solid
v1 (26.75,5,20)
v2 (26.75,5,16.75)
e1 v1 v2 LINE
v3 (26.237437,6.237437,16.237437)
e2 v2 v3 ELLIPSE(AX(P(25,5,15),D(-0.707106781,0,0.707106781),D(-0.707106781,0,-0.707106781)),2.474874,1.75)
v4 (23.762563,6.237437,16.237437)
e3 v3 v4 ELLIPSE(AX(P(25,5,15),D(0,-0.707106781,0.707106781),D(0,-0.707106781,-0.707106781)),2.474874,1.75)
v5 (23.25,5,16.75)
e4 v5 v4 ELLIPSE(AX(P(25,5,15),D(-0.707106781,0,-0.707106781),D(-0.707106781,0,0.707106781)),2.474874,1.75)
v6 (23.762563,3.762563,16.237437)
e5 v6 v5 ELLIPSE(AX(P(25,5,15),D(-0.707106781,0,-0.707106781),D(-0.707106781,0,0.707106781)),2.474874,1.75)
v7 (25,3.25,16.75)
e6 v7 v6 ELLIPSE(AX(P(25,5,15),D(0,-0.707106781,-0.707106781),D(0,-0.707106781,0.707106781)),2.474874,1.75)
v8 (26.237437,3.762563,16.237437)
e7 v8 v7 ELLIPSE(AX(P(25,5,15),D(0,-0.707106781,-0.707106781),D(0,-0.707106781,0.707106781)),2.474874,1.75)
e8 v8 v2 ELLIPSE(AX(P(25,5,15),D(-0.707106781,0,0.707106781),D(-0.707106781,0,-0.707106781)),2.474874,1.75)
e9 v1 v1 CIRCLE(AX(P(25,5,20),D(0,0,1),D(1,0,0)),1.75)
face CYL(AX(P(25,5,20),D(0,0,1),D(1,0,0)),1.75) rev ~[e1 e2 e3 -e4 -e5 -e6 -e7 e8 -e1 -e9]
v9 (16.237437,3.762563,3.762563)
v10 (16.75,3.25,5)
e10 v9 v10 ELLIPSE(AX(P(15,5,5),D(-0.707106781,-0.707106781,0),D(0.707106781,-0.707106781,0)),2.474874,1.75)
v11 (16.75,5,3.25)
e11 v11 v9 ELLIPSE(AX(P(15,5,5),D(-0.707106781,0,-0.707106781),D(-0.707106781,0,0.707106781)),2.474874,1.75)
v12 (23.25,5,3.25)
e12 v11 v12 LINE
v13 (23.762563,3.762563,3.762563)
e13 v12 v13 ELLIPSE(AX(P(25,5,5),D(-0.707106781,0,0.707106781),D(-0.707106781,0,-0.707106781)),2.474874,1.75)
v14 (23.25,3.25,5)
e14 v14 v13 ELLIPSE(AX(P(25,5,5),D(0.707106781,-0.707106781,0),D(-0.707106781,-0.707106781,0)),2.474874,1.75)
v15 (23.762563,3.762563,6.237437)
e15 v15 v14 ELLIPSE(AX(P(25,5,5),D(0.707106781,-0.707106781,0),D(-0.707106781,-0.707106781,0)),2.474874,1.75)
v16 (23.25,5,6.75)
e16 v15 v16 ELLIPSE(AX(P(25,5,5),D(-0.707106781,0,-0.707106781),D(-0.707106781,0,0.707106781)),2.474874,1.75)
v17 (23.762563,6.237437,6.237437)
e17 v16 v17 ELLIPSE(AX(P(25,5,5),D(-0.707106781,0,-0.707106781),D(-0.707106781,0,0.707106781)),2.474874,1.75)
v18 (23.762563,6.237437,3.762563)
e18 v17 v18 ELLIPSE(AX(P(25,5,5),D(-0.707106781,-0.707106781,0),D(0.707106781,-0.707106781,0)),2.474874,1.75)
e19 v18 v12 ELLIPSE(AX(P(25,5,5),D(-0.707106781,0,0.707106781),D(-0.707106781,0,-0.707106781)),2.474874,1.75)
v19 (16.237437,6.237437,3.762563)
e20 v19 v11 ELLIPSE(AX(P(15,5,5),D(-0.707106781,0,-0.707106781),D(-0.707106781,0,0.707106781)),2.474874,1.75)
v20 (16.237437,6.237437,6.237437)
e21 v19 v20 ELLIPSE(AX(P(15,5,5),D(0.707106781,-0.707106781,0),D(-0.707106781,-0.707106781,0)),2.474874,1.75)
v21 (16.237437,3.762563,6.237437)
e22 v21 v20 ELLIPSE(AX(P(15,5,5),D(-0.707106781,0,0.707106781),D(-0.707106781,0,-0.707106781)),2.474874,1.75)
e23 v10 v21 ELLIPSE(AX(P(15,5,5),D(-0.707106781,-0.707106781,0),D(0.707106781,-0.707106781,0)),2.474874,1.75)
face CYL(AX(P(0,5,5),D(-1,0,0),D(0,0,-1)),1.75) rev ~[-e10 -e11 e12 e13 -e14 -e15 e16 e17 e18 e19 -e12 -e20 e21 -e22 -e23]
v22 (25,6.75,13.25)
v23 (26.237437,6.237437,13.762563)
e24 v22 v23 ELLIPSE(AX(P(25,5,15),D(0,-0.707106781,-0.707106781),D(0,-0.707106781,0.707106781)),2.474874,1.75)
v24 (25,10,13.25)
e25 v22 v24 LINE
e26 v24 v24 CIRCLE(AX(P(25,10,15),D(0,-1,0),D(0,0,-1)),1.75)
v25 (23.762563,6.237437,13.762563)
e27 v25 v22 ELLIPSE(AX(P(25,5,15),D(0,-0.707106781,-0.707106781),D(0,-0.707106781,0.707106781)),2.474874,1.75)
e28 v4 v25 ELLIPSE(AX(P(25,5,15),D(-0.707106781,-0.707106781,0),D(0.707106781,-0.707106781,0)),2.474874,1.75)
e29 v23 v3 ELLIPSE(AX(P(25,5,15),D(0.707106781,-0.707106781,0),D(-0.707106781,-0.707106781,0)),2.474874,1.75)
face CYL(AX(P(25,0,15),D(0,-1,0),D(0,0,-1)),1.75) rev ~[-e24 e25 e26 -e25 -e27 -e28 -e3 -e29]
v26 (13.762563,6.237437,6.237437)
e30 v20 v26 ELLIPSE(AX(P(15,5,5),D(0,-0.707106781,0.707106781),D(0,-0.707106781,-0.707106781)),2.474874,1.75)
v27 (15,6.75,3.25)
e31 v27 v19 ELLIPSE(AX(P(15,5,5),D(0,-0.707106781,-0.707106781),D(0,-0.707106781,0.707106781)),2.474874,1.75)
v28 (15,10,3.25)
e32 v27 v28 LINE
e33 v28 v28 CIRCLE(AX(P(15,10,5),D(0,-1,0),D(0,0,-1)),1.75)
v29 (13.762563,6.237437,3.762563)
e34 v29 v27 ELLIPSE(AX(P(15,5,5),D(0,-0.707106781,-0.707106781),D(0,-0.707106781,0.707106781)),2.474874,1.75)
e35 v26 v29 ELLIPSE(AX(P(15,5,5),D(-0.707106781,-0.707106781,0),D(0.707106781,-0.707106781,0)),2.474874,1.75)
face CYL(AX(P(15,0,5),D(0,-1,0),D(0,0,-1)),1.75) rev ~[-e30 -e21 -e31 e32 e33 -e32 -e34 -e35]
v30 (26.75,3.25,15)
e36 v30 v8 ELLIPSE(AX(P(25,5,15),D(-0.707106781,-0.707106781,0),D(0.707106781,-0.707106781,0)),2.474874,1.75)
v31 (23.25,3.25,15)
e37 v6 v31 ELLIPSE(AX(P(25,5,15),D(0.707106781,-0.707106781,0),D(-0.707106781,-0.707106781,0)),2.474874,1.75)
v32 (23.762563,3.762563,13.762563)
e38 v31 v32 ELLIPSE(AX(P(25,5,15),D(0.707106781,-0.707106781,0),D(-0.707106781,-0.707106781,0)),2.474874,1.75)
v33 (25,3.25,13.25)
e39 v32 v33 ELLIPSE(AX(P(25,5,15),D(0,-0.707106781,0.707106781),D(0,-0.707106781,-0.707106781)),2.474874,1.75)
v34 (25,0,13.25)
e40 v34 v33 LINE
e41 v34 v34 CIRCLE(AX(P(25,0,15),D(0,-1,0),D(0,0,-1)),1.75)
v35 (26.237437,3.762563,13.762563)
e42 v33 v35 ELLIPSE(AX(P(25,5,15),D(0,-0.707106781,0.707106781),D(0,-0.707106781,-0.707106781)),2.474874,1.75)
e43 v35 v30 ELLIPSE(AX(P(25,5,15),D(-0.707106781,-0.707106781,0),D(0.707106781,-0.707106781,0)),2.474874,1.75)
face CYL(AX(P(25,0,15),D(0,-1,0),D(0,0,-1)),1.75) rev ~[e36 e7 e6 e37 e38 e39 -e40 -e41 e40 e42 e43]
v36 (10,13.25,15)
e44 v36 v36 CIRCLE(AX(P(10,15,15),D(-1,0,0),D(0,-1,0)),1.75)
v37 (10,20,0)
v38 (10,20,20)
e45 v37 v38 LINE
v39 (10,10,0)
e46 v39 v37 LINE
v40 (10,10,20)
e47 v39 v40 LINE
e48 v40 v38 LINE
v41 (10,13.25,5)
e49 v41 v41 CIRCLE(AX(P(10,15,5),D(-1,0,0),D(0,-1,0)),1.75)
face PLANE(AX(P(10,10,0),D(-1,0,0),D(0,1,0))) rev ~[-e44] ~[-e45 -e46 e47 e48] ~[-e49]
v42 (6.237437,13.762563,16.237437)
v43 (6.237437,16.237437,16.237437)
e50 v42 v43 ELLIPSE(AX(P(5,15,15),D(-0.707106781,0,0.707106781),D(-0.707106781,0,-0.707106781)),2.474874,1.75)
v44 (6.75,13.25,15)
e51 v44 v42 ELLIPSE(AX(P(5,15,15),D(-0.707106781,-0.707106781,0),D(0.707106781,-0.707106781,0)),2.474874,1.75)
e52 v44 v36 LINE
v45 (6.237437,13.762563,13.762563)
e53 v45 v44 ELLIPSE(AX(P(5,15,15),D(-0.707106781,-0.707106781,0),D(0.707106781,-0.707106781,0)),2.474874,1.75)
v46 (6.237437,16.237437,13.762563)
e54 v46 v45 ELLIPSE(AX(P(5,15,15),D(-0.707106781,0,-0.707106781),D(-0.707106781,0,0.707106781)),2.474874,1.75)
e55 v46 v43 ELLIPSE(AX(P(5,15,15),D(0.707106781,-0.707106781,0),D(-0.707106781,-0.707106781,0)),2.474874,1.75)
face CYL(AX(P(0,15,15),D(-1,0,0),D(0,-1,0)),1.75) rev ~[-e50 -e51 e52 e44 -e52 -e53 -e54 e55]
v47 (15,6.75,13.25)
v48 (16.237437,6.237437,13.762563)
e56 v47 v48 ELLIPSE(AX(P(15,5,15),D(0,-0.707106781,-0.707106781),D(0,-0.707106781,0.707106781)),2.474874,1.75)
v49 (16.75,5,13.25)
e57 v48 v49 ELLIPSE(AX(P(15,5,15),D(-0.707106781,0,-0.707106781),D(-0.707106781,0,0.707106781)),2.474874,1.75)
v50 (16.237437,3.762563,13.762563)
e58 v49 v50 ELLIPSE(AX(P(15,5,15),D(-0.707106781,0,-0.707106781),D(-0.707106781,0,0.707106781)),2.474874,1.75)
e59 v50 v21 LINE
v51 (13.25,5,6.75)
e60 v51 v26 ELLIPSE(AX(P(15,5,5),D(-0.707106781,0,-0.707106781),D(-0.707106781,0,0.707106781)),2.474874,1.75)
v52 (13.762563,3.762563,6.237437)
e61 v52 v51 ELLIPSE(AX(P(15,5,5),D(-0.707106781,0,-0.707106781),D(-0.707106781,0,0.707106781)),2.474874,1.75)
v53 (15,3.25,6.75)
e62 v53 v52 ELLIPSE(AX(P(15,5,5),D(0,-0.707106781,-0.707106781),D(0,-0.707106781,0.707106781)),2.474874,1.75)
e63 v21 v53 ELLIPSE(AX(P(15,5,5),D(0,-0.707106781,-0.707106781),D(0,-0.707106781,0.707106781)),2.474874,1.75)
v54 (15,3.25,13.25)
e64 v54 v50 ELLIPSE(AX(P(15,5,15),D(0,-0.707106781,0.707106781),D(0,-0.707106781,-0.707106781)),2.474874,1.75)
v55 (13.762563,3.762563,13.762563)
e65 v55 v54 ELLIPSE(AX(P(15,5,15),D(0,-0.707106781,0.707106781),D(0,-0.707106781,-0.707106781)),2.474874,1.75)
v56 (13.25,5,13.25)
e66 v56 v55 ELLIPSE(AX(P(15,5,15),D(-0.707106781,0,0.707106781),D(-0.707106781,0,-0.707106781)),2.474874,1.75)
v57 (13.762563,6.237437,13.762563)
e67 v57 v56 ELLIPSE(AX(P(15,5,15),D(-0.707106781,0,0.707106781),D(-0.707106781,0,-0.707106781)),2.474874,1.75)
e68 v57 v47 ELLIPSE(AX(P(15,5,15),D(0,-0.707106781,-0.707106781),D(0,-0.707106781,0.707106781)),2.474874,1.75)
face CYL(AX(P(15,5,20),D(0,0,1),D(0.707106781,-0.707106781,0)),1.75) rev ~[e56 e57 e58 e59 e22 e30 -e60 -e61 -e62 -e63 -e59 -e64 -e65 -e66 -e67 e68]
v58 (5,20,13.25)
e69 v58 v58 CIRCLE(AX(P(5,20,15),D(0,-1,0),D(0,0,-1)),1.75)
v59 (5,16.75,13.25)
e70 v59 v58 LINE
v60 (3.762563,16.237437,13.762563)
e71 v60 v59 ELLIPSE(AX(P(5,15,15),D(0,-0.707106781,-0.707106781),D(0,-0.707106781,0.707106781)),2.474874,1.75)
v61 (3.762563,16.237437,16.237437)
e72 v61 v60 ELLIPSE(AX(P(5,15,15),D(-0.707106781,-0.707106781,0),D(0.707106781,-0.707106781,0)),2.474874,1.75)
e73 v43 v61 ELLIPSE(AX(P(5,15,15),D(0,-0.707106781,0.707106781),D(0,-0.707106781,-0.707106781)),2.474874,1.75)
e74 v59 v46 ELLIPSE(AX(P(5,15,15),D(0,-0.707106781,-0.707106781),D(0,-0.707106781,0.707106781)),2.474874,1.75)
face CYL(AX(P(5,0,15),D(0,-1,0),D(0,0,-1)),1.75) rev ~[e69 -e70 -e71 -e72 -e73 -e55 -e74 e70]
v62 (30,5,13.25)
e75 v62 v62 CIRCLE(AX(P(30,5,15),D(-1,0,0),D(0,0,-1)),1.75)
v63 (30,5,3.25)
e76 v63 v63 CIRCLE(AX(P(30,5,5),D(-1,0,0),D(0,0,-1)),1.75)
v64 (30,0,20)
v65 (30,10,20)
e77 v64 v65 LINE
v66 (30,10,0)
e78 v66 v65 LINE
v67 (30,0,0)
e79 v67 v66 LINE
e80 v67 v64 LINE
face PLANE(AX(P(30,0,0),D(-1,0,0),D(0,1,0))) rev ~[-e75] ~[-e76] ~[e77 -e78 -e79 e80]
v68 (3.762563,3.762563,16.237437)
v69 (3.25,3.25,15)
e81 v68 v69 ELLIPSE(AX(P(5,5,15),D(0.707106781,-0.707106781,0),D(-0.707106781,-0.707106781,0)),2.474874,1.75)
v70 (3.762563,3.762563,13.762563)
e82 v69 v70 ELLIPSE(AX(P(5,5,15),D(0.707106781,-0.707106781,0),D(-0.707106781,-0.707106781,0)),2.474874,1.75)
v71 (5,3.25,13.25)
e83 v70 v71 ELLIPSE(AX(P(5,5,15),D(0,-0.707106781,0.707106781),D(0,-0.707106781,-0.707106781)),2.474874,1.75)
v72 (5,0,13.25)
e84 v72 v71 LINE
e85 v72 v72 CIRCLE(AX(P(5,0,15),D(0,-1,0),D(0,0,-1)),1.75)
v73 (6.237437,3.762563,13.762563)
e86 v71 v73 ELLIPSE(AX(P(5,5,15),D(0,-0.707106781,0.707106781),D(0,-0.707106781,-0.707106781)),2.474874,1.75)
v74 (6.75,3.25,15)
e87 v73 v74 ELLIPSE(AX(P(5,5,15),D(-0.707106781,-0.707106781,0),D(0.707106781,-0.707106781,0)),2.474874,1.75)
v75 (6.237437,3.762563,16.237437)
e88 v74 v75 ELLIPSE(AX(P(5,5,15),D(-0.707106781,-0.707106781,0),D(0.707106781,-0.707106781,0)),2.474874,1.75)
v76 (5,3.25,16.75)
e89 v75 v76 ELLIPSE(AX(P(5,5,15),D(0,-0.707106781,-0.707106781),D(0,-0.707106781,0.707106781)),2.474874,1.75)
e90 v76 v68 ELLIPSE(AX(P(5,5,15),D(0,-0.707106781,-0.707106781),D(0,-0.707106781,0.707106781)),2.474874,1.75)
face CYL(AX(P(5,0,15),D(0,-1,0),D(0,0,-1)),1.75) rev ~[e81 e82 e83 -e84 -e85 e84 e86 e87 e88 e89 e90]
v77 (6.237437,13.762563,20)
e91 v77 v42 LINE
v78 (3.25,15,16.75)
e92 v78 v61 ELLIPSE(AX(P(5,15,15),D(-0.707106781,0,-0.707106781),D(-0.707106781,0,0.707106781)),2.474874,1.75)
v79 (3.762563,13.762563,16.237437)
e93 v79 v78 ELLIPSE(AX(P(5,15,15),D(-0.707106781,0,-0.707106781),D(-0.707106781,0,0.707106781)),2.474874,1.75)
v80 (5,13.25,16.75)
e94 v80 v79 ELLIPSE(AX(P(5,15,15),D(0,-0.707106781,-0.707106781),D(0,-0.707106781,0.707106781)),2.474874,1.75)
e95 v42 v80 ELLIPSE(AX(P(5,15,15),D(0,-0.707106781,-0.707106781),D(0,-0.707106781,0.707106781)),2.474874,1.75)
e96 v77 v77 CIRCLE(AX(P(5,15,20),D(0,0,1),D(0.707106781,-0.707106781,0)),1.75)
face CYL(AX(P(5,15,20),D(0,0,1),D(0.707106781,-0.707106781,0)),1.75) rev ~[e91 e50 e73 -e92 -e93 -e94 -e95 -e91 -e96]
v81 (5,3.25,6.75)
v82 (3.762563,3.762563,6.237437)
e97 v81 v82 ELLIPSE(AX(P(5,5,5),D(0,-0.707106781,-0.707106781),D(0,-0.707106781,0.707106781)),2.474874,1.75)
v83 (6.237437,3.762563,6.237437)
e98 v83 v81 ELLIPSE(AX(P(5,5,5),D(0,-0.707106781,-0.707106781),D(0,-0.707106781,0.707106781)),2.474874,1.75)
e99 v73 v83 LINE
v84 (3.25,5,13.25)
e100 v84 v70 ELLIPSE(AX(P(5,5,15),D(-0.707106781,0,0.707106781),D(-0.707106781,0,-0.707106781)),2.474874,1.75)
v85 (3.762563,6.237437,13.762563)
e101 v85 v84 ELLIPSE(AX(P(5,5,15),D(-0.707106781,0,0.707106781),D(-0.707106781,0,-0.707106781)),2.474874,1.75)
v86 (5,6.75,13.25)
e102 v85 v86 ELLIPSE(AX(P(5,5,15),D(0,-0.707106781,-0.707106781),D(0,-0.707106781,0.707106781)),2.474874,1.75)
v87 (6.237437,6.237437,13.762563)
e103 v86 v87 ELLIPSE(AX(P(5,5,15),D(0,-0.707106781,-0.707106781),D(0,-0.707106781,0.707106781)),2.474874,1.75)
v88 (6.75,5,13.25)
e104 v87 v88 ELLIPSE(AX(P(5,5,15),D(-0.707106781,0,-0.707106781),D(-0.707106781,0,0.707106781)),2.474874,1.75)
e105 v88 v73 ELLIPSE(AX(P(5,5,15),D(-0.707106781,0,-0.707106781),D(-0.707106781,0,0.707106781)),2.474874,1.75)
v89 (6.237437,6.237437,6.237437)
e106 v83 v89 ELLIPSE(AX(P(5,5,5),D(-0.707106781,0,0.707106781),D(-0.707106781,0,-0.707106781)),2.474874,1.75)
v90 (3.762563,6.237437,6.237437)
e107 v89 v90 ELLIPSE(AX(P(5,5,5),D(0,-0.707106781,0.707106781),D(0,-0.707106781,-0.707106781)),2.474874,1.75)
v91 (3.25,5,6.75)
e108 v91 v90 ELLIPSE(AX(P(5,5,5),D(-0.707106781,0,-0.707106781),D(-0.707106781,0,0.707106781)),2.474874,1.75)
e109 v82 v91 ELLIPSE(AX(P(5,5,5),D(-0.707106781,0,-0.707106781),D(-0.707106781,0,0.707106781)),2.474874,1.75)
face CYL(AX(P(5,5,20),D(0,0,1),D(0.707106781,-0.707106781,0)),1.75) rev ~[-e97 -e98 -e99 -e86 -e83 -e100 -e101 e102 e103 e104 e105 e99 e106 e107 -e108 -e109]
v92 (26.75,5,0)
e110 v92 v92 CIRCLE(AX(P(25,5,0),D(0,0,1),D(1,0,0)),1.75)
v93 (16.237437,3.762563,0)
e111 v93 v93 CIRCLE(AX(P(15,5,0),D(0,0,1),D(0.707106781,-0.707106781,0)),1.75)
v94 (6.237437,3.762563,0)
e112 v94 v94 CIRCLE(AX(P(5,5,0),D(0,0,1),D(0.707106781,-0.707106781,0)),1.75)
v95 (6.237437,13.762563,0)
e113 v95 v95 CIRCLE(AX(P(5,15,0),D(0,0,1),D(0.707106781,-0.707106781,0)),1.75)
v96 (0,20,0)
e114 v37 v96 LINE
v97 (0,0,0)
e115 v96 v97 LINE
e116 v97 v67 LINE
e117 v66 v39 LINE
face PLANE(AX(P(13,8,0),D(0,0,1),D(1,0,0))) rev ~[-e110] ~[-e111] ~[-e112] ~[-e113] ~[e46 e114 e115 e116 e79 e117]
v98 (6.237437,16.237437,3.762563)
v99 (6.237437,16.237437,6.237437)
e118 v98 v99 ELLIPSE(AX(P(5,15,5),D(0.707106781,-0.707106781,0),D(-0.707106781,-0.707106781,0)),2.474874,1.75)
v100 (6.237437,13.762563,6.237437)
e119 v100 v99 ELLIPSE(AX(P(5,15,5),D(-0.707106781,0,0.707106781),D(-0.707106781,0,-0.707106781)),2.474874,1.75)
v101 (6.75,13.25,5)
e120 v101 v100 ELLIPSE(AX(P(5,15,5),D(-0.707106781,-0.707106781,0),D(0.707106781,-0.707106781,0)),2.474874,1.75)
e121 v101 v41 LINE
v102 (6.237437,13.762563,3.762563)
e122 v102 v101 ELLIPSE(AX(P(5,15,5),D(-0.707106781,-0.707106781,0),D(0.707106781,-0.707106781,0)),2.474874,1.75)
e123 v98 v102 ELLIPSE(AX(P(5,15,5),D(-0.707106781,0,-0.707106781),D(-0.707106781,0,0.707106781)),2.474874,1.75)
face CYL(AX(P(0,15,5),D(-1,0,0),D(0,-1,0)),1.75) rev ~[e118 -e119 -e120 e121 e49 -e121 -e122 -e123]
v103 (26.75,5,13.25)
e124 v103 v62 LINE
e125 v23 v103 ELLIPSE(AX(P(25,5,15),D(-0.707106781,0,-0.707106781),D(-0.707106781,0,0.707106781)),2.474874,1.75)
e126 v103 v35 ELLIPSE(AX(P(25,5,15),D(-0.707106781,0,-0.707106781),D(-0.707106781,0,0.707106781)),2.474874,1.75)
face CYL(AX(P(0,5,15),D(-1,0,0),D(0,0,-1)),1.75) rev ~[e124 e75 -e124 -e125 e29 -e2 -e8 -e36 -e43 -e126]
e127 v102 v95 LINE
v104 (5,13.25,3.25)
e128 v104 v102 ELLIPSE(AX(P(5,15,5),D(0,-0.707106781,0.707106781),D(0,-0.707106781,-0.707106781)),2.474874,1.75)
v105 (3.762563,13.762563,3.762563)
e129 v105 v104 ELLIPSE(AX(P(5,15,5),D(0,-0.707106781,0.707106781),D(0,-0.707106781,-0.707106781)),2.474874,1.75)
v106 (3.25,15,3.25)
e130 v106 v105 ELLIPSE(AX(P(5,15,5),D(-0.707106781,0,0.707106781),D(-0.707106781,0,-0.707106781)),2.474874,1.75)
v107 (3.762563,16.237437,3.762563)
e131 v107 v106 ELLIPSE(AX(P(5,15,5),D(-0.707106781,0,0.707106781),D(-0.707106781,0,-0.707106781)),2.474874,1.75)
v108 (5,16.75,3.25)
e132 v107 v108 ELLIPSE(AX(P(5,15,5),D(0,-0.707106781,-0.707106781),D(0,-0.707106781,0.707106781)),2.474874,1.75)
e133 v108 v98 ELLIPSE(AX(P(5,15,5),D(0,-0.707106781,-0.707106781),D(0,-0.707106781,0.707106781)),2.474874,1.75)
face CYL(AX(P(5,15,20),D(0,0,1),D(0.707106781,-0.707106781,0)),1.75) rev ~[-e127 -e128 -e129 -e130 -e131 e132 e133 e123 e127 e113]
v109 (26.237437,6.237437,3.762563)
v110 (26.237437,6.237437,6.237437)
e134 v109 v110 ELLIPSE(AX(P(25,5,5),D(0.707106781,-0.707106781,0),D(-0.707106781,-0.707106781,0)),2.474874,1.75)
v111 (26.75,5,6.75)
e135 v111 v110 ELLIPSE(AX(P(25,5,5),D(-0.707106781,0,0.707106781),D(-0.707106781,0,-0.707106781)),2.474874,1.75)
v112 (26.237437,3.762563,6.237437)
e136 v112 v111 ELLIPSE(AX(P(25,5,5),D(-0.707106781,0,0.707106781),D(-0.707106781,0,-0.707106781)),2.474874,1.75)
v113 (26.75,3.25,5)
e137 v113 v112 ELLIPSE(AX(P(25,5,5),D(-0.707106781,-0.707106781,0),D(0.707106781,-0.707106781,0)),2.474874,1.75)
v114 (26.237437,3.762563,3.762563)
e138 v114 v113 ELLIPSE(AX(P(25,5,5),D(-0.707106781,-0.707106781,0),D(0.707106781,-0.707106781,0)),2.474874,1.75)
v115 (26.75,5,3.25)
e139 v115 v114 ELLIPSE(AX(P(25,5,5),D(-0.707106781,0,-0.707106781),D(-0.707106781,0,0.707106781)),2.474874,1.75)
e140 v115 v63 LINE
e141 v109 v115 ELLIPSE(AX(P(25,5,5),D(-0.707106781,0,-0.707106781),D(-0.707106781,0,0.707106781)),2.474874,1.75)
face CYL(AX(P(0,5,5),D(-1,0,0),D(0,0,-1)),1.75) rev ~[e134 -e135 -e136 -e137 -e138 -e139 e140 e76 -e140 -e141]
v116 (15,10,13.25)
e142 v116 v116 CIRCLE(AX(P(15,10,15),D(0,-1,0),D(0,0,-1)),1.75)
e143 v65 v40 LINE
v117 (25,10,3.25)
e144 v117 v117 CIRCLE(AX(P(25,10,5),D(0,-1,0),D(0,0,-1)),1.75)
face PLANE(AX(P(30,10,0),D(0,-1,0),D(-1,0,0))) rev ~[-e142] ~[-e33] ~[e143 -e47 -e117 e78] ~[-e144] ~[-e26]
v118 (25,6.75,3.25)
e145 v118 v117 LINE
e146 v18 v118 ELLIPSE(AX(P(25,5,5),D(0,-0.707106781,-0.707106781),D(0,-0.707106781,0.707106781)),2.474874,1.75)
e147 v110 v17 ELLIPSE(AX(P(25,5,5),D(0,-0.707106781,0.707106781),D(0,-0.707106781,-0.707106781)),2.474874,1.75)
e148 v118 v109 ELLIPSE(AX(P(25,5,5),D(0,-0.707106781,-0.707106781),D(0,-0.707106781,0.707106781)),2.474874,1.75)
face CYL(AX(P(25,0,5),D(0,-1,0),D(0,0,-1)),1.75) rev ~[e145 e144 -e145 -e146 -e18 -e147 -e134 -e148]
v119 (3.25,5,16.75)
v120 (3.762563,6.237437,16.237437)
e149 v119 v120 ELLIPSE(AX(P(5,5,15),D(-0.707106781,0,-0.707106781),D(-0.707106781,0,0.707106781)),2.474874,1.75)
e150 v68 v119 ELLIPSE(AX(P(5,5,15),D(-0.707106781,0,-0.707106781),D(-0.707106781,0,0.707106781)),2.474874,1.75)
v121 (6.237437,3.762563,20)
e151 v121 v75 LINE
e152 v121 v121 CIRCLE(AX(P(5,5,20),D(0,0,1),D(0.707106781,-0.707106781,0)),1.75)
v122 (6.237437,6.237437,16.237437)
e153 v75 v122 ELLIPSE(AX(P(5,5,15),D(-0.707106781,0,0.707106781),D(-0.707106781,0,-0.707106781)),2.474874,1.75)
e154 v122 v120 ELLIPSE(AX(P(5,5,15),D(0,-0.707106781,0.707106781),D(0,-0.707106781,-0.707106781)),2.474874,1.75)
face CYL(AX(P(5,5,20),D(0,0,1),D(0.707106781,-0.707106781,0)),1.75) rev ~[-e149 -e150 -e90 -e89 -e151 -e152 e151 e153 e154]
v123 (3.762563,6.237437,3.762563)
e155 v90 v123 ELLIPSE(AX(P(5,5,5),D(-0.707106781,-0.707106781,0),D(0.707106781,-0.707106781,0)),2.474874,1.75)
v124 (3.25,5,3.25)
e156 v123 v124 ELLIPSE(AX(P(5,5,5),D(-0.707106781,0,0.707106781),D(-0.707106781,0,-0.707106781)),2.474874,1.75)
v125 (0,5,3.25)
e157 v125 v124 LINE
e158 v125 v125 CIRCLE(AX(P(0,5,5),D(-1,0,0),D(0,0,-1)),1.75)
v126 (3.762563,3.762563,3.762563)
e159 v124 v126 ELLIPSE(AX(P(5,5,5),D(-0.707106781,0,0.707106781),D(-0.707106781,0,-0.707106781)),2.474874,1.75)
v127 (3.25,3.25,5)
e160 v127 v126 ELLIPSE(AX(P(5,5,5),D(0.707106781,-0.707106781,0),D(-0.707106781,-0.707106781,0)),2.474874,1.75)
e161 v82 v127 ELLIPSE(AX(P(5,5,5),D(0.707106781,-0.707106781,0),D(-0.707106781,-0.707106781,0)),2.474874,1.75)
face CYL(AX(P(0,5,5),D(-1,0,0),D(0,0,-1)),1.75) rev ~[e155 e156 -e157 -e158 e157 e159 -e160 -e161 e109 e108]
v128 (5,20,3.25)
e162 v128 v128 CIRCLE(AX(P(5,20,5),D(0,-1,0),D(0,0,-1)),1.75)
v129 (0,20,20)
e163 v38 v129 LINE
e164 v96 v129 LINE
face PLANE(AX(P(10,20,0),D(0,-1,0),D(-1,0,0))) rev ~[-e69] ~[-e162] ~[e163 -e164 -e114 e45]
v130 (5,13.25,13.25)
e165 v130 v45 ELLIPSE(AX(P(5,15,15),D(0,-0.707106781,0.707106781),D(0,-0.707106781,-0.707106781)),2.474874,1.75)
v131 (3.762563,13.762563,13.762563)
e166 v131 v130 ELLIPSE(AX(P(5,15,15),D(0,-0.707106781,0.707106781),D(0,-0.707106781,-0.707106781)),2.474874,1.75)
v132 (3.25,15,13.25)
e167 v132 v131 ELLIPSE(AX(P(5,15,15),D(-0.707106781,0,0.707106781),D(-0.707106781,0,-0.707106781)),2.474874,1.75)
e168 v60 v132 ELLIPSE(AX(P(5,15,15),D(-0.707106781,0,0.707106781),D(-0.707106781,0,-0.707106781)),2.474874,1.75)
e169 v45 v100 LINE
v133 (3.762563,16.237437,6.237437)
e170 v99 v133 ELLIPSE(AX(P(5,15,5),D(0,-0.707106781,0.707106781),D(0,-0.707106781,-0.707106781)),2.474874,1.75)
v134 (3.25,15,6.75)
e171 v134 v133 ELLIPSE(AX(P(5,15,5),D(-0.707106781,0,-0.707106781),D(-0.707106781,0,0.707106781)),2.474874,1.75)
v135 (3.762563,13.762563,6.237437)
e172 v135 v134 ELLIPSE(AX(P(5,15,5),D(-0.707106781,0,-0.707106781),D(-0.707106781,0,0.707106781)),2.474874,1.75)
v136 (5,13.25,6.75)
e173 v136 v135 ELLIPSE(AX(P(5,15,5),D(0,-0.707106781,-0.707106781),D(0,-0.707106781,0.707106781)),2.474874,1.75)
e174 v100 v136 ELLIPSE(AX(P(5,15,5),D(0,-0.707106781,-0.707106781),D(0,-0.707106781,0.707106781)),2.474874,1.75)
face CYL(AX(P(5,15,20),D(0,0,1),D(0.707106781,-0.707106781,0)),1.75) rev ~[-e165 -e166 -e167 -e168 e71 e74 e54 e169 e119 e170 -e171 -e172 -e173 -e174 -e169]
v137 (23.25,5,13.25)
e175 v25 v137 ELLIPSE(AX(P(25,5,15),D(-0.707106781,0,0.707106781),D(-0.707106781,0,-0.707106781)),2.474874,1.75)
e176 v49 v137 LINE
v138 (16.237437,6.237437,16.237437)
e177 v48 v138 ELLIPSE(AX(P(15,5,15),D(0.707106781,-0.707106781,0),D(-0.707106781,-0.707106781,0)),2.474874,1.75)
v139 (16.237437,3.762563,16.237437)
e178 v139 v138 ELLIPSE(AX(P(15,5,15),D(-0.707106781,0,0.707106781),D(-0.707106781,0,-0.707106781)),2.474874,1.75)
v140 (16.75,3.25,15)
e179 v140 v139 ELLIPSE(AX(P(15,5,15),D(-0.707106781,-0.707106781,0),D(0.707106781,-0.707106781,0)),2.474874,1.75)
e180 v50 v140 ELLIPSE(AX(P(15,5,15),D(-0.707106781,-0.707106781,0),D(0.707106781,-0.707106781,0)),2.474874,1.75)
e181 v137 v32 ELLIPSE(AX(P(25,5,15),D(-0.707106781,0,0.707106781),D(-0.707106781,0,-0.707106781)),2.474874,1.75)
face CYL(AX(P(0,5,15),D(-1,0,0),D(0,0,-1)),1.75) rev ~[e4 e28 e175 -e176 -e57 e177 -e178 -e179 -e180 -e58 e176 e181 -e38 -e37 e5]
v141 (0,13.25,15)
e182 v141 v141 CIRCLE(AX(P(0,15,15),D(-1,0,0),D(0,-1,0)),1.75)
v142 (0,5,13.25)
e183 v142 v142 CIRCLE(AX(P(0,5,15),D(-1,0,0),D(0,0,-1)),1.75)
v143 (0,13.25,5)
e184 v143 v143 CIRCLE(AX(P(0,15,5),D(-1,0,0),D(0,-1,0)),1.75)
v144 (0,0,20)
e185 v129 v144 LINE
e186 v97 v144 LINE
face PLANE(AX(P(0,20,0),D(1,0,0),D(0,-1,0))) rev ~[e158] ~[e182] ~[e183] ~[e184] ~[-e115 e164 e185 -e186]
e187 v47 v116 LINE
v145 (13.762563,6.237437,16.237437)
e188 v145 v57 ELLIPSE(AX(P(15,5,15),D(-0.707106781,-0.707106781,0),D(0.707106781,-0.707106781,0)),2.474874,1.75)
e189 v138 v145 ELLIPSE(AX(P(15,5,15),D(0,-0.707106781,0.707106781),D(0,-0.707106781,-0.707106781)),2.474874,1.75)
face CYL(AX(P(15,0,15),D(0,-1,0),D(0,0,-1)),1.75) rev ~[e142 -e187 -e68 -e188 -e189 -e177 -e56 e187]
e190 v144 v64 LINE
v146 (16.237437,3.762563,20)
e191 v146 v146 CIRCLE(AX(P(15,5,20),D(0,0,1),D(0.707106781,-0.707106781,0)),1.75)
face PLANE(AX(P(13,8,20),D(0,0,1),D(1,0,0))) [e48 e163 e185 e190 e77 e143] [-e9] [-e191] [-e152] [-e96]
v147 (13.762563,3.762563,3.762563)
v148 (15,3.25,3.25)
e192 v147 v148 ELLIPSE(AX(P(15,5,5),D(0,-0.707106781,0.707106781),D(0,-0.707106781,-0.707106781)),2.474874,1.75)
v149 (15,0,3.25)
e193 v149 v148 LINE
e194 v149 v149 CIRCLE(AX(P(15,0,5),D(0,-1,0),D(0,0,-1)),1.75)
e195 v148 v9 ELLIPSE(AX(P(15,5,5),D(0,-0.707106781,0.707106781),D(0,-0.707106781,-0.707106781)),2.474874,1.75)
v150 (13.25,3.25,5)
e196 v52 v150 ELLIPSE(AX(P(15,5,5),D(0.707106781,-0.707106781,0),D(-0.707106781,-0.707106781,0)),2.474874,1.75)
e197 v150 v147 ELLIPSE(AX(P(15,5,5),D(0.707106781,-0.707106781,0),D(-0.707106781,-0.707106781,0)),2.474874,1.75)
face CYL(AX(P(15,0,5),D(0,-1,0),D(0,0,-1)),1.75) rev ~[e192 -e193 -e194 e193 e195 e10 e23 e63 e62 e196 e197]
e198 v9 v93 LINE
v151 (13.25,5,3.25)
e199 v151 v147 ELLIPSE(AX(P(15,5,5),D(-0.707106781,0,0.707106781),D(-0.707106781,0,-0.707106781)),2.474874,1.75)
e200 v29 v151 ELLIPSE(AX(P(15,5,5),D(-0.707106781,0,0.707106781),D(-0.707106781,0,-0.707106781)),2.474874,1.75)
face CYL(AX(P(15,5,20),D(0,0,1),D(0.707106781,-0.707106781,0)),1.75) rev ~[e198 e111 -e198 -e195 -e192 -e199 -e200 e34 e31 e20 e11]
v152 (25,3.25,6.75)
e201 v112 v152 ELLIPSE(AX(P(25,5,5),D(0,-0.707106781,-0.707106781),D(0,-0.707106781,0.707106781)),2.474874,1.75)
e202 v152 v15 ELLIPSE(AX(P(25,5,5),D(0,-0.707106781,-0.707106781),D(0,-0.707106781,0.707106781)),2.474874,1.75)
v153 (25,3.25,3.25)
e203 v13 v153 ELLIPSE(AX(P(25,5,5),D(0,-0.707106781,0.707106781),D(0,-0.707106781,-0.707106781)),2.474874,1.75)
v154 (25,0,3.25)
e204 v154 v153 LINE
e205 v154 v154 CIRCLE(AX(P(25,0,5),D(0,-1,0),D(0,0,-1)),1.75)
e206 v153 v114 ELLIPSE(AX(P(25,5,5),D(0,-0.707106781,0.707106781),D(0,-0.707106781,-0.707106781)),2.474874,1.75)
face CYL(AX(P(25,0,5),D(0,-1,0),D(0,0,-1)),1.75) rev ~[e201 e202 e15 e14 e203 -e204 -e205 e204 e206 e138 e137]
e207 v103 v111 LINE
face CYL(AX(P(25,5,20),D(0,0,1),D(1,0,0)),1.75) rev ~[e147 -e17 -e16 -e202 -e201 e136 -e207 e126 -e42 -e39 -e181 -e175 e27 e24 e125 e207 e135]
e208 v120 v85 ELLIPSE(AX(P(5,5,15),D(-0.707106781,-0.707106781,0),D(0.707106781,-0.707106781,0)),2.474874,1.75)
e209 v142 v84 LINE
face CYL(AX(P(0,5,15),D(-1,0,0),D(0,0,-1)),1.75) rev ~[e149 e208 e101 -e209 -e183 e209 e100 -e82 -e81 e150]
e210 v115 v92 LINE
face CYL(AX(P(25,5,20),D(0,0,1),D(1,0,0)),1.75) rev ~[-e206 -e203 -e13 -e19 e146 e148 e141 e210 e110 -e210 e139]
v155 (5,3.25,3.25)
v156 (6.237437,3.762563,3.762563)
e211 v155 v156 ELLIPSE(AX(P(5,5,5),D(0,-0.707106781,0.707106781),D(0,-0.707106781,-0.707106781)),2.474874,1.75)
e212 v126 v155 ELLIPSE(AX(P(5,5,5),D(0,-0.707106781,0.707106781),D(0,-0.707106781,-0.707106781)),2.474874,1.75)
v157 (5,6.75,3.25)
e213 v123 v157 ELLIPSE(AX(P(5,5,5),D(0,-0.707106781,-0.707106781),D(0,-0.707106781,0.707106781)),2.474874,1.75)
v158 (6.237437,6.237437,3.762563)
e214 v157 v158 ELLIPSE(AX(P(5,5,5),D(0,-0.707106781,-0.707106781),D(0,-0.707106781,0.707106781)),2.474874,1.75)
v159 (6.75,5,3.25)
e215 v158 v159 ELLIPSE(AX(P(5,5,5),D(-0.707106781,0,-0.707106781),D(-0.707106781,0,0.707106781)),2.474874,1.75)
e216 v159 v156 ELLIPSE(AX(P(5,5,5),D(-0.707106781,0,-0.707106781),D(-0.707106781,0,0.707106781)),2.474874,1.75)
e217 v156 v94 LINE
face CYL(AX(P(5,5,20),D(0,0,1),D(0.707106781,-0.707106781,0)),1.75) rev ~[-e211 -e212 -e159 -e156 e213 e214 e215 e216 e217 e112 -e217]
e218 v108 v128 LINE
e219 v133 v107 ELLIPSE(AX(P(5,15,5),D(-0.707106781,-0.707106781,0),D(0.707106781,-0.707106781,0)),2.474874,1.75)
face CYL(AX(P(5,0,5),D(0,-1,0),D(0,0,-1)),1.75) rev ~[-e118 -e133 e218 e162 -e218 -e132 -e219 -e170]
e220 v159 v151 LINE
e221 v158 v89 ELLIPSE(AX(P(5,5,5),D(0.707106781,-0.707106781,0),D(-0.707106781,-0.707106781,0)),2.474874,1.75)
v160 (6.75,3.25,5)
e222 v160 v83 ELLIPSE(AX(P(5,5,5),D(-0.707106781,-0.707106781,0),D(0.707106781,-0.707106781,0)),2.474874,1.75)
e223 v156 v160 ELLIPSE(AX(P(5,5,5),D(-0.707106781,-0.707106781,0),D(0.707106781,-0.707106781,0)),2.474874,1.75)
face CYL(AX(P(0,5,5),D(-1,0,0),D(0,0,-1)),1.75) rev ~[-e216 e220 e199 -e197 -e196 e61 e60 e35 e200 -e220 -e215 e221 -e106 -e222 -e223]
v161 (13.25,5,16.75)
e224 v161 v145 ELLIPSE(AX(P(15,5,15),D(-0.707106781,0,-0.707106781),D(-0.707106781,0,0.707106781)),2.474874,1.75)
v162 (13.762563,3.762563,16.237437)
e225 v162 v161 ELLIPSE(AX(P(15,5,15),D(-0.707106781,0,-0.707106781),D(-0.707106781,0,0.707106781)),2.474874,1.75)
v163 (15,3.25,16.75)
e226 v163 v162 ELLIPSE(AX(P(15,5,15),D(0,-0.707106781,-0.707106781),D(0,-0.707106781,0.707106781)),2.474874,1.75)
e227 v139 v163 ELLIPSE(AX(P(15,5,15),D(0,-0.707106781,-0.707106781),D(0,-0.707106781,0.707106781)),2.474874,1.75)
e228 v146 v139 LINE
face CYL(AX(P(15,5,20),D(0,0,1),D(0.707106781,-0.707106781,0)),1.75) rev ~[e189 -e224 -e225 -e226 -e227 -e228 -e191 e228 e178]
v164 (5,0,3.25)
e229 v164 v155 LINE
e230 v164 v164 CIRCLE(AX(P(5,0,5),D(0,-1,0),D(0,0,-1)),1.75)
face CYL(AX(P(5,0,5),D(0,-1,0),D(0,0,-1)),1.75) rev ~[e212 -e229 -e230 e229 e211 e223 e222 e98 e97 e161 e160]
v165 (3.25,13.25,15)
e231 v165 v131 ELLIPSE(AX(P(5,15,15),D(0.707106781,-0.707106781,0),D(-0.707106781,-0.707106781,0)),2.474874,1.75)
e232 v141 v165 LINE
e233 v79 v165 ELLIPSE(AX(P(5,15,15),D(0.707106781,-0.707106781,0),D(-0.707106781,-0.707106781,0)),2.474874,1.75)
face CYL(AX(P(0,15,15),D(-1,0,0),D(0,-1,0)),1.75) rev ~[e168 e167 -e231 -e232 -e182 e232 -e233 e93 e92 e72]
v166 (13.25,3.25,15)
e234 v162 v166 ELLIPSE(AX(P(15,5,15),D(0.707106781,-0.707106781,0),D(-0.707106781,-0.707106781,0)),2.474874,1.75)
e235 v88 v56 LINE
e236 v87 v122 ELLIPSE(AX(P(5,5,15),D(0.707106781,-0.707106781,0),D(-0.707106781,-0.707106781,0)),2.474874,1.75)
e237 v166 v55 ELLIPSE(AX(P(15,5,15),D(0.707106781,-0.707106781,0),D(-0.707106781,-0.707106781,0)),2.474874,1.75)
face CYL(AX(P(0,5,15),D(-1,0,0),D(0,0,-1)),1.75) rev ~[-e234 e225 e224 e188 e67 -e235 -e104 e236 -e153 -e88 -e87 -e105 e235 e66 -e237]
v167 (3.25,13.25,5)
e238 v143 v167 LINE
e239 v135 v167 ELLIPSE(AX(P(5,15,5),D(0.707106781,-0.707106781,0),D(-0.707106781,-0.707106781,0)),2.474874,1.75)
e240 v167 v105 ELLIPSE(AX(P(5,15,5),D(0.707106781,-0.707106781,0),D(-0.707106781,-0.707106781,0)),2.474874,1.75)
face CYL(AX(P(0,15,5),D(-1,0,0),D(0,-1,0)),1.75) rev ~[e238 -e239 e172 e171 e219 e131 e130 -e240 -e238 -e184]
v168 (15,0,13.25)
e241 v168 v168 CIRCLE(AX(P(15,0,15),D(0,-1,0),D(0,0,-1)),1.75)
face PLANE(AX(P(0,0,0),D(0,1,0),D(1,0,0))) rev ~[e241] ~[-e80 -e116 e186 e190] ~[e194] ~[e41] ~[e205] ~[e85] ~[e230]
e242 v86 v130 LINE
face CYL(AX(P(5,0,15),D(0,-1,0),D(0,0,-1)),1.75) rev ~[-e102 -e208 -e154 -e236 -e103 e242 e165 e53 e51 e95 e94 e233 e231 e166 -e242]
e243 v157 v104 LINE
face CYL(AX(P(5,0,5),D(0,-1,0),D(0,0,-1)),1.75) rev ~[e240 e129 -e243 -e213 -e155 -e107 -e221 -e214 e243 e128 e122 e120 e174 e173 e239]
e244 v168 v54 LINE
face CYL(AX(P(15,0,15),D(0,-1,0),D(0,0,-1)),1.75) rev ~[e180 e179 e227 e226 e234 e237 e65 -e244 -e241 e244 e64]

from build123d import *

# Parameters (mm, degrees)
BOSS_EXTRU_1_DEPTH      = 20
ESQUISSE2_R             = 1.75
ENL_V_MAT_EXTRU_1_DEPTH = 42.231056256
ESQUISSE3_R             = 1.75
ENL_V_MAT_EXTRU_2_DEPTH = 42.231056256
ESQUISSE4_R             = 1.75
ENL_V_MAT_EXTRU_3_DEPTH = 20


with BuildPart() as part:
    # Esquisse1 → Boss.-Extru.1 (new body)
    with BuildSketch(Plane.XY):
        Polygon((0, 0), (30, 0), (30, 10), (10, 10), (10, 20), (0, 20), align=None)
    extrude(amount=BOSS_EXTRU_1_DEPTH)

    # Esquisse2 → Enlèv. mat.-Extru.1 (cut, through all)
    with BuildSketch(Plane.XZ):
        with Locations(Location((5, 15, 0), (0, 0, 270))):
            Circle(ESQUISSE2_R)
        with Locations(Location((15, 15, 0), (0, 0, 270))):
            Circle(ESQUISSE2_R)
        with Locations(Location((25, 15, 0), (0, 0, 270))):
            Circle(ESQUISSE2_R)
        with Locations(Location((15, 5, 0), (0, 0, 270))):
            Circle(ESQUISSE2_R)
        with Locations(Location((25, 5, 0), (0, 0, 270))):
            Circle(ESQUISSE2_R)
        with Locations(Location((5, 5, 0), (0, 0, 270))):
            Circle(ESQUISSE2_R)
    extrude(amount=-ENL_V_MAT_EXTRU_1_DEPTH, mode=Mode.SUBTRACT)

    # Esquisse3 → Enlèv. mat.-Extru.2 (cut, through all)
    with BuildSketch(Plane.ZY):
        with Locations(Location((15, 5, 0), (0, 0, 180))):
            Circle(ESQUISSE3_R)
        with Locations(Location((5, 5, 0), (0, 0, 180))):
            Circle(ESQUISSE3_R)
        with Locations(Location((5, 15, 0), (0, 0, 270))):
            Circle(ESQUISSE3_R)
        with Locations(Location((15, 15, 0), (0, 0, 270))):
            Circle(ESQUISSE3_R)
    extrude(amount=-ENL_V_MAT_EXTRU_2_DEPTH, mode=Mode.SUBTRACT)

    # Esquisse4 → Enlèv. mat.-Extru.3 (cut)
    with BuildSketch(Plane.XY.offset(20)):
        with Locations((25, 5)):
            Circle(ESQUISSE4_R)
        with Locations(Location((15, 5, 0), (0, 0, 315))):
            Circle(ESQUISSE4_R)
        with Locations(Location((5, 5, 0), (0, 0, 315))):
            Circle(ESQUISSE4_R)
        with Locations((15, 15)):
            Circle(ESQUISSE4_R)
        with Locations(Location((5, 15, 0), (0, 0, 315))):
            Circle(ESQUISSE4_R)
        with Locations((25, 15)):
            Circle(ESQUISSE4_R)
    extrude(amount=-ENL_V_MAT_EXTRU_3_DEPTH, mode=Mode.SUBTRACT)


solid = part.part
